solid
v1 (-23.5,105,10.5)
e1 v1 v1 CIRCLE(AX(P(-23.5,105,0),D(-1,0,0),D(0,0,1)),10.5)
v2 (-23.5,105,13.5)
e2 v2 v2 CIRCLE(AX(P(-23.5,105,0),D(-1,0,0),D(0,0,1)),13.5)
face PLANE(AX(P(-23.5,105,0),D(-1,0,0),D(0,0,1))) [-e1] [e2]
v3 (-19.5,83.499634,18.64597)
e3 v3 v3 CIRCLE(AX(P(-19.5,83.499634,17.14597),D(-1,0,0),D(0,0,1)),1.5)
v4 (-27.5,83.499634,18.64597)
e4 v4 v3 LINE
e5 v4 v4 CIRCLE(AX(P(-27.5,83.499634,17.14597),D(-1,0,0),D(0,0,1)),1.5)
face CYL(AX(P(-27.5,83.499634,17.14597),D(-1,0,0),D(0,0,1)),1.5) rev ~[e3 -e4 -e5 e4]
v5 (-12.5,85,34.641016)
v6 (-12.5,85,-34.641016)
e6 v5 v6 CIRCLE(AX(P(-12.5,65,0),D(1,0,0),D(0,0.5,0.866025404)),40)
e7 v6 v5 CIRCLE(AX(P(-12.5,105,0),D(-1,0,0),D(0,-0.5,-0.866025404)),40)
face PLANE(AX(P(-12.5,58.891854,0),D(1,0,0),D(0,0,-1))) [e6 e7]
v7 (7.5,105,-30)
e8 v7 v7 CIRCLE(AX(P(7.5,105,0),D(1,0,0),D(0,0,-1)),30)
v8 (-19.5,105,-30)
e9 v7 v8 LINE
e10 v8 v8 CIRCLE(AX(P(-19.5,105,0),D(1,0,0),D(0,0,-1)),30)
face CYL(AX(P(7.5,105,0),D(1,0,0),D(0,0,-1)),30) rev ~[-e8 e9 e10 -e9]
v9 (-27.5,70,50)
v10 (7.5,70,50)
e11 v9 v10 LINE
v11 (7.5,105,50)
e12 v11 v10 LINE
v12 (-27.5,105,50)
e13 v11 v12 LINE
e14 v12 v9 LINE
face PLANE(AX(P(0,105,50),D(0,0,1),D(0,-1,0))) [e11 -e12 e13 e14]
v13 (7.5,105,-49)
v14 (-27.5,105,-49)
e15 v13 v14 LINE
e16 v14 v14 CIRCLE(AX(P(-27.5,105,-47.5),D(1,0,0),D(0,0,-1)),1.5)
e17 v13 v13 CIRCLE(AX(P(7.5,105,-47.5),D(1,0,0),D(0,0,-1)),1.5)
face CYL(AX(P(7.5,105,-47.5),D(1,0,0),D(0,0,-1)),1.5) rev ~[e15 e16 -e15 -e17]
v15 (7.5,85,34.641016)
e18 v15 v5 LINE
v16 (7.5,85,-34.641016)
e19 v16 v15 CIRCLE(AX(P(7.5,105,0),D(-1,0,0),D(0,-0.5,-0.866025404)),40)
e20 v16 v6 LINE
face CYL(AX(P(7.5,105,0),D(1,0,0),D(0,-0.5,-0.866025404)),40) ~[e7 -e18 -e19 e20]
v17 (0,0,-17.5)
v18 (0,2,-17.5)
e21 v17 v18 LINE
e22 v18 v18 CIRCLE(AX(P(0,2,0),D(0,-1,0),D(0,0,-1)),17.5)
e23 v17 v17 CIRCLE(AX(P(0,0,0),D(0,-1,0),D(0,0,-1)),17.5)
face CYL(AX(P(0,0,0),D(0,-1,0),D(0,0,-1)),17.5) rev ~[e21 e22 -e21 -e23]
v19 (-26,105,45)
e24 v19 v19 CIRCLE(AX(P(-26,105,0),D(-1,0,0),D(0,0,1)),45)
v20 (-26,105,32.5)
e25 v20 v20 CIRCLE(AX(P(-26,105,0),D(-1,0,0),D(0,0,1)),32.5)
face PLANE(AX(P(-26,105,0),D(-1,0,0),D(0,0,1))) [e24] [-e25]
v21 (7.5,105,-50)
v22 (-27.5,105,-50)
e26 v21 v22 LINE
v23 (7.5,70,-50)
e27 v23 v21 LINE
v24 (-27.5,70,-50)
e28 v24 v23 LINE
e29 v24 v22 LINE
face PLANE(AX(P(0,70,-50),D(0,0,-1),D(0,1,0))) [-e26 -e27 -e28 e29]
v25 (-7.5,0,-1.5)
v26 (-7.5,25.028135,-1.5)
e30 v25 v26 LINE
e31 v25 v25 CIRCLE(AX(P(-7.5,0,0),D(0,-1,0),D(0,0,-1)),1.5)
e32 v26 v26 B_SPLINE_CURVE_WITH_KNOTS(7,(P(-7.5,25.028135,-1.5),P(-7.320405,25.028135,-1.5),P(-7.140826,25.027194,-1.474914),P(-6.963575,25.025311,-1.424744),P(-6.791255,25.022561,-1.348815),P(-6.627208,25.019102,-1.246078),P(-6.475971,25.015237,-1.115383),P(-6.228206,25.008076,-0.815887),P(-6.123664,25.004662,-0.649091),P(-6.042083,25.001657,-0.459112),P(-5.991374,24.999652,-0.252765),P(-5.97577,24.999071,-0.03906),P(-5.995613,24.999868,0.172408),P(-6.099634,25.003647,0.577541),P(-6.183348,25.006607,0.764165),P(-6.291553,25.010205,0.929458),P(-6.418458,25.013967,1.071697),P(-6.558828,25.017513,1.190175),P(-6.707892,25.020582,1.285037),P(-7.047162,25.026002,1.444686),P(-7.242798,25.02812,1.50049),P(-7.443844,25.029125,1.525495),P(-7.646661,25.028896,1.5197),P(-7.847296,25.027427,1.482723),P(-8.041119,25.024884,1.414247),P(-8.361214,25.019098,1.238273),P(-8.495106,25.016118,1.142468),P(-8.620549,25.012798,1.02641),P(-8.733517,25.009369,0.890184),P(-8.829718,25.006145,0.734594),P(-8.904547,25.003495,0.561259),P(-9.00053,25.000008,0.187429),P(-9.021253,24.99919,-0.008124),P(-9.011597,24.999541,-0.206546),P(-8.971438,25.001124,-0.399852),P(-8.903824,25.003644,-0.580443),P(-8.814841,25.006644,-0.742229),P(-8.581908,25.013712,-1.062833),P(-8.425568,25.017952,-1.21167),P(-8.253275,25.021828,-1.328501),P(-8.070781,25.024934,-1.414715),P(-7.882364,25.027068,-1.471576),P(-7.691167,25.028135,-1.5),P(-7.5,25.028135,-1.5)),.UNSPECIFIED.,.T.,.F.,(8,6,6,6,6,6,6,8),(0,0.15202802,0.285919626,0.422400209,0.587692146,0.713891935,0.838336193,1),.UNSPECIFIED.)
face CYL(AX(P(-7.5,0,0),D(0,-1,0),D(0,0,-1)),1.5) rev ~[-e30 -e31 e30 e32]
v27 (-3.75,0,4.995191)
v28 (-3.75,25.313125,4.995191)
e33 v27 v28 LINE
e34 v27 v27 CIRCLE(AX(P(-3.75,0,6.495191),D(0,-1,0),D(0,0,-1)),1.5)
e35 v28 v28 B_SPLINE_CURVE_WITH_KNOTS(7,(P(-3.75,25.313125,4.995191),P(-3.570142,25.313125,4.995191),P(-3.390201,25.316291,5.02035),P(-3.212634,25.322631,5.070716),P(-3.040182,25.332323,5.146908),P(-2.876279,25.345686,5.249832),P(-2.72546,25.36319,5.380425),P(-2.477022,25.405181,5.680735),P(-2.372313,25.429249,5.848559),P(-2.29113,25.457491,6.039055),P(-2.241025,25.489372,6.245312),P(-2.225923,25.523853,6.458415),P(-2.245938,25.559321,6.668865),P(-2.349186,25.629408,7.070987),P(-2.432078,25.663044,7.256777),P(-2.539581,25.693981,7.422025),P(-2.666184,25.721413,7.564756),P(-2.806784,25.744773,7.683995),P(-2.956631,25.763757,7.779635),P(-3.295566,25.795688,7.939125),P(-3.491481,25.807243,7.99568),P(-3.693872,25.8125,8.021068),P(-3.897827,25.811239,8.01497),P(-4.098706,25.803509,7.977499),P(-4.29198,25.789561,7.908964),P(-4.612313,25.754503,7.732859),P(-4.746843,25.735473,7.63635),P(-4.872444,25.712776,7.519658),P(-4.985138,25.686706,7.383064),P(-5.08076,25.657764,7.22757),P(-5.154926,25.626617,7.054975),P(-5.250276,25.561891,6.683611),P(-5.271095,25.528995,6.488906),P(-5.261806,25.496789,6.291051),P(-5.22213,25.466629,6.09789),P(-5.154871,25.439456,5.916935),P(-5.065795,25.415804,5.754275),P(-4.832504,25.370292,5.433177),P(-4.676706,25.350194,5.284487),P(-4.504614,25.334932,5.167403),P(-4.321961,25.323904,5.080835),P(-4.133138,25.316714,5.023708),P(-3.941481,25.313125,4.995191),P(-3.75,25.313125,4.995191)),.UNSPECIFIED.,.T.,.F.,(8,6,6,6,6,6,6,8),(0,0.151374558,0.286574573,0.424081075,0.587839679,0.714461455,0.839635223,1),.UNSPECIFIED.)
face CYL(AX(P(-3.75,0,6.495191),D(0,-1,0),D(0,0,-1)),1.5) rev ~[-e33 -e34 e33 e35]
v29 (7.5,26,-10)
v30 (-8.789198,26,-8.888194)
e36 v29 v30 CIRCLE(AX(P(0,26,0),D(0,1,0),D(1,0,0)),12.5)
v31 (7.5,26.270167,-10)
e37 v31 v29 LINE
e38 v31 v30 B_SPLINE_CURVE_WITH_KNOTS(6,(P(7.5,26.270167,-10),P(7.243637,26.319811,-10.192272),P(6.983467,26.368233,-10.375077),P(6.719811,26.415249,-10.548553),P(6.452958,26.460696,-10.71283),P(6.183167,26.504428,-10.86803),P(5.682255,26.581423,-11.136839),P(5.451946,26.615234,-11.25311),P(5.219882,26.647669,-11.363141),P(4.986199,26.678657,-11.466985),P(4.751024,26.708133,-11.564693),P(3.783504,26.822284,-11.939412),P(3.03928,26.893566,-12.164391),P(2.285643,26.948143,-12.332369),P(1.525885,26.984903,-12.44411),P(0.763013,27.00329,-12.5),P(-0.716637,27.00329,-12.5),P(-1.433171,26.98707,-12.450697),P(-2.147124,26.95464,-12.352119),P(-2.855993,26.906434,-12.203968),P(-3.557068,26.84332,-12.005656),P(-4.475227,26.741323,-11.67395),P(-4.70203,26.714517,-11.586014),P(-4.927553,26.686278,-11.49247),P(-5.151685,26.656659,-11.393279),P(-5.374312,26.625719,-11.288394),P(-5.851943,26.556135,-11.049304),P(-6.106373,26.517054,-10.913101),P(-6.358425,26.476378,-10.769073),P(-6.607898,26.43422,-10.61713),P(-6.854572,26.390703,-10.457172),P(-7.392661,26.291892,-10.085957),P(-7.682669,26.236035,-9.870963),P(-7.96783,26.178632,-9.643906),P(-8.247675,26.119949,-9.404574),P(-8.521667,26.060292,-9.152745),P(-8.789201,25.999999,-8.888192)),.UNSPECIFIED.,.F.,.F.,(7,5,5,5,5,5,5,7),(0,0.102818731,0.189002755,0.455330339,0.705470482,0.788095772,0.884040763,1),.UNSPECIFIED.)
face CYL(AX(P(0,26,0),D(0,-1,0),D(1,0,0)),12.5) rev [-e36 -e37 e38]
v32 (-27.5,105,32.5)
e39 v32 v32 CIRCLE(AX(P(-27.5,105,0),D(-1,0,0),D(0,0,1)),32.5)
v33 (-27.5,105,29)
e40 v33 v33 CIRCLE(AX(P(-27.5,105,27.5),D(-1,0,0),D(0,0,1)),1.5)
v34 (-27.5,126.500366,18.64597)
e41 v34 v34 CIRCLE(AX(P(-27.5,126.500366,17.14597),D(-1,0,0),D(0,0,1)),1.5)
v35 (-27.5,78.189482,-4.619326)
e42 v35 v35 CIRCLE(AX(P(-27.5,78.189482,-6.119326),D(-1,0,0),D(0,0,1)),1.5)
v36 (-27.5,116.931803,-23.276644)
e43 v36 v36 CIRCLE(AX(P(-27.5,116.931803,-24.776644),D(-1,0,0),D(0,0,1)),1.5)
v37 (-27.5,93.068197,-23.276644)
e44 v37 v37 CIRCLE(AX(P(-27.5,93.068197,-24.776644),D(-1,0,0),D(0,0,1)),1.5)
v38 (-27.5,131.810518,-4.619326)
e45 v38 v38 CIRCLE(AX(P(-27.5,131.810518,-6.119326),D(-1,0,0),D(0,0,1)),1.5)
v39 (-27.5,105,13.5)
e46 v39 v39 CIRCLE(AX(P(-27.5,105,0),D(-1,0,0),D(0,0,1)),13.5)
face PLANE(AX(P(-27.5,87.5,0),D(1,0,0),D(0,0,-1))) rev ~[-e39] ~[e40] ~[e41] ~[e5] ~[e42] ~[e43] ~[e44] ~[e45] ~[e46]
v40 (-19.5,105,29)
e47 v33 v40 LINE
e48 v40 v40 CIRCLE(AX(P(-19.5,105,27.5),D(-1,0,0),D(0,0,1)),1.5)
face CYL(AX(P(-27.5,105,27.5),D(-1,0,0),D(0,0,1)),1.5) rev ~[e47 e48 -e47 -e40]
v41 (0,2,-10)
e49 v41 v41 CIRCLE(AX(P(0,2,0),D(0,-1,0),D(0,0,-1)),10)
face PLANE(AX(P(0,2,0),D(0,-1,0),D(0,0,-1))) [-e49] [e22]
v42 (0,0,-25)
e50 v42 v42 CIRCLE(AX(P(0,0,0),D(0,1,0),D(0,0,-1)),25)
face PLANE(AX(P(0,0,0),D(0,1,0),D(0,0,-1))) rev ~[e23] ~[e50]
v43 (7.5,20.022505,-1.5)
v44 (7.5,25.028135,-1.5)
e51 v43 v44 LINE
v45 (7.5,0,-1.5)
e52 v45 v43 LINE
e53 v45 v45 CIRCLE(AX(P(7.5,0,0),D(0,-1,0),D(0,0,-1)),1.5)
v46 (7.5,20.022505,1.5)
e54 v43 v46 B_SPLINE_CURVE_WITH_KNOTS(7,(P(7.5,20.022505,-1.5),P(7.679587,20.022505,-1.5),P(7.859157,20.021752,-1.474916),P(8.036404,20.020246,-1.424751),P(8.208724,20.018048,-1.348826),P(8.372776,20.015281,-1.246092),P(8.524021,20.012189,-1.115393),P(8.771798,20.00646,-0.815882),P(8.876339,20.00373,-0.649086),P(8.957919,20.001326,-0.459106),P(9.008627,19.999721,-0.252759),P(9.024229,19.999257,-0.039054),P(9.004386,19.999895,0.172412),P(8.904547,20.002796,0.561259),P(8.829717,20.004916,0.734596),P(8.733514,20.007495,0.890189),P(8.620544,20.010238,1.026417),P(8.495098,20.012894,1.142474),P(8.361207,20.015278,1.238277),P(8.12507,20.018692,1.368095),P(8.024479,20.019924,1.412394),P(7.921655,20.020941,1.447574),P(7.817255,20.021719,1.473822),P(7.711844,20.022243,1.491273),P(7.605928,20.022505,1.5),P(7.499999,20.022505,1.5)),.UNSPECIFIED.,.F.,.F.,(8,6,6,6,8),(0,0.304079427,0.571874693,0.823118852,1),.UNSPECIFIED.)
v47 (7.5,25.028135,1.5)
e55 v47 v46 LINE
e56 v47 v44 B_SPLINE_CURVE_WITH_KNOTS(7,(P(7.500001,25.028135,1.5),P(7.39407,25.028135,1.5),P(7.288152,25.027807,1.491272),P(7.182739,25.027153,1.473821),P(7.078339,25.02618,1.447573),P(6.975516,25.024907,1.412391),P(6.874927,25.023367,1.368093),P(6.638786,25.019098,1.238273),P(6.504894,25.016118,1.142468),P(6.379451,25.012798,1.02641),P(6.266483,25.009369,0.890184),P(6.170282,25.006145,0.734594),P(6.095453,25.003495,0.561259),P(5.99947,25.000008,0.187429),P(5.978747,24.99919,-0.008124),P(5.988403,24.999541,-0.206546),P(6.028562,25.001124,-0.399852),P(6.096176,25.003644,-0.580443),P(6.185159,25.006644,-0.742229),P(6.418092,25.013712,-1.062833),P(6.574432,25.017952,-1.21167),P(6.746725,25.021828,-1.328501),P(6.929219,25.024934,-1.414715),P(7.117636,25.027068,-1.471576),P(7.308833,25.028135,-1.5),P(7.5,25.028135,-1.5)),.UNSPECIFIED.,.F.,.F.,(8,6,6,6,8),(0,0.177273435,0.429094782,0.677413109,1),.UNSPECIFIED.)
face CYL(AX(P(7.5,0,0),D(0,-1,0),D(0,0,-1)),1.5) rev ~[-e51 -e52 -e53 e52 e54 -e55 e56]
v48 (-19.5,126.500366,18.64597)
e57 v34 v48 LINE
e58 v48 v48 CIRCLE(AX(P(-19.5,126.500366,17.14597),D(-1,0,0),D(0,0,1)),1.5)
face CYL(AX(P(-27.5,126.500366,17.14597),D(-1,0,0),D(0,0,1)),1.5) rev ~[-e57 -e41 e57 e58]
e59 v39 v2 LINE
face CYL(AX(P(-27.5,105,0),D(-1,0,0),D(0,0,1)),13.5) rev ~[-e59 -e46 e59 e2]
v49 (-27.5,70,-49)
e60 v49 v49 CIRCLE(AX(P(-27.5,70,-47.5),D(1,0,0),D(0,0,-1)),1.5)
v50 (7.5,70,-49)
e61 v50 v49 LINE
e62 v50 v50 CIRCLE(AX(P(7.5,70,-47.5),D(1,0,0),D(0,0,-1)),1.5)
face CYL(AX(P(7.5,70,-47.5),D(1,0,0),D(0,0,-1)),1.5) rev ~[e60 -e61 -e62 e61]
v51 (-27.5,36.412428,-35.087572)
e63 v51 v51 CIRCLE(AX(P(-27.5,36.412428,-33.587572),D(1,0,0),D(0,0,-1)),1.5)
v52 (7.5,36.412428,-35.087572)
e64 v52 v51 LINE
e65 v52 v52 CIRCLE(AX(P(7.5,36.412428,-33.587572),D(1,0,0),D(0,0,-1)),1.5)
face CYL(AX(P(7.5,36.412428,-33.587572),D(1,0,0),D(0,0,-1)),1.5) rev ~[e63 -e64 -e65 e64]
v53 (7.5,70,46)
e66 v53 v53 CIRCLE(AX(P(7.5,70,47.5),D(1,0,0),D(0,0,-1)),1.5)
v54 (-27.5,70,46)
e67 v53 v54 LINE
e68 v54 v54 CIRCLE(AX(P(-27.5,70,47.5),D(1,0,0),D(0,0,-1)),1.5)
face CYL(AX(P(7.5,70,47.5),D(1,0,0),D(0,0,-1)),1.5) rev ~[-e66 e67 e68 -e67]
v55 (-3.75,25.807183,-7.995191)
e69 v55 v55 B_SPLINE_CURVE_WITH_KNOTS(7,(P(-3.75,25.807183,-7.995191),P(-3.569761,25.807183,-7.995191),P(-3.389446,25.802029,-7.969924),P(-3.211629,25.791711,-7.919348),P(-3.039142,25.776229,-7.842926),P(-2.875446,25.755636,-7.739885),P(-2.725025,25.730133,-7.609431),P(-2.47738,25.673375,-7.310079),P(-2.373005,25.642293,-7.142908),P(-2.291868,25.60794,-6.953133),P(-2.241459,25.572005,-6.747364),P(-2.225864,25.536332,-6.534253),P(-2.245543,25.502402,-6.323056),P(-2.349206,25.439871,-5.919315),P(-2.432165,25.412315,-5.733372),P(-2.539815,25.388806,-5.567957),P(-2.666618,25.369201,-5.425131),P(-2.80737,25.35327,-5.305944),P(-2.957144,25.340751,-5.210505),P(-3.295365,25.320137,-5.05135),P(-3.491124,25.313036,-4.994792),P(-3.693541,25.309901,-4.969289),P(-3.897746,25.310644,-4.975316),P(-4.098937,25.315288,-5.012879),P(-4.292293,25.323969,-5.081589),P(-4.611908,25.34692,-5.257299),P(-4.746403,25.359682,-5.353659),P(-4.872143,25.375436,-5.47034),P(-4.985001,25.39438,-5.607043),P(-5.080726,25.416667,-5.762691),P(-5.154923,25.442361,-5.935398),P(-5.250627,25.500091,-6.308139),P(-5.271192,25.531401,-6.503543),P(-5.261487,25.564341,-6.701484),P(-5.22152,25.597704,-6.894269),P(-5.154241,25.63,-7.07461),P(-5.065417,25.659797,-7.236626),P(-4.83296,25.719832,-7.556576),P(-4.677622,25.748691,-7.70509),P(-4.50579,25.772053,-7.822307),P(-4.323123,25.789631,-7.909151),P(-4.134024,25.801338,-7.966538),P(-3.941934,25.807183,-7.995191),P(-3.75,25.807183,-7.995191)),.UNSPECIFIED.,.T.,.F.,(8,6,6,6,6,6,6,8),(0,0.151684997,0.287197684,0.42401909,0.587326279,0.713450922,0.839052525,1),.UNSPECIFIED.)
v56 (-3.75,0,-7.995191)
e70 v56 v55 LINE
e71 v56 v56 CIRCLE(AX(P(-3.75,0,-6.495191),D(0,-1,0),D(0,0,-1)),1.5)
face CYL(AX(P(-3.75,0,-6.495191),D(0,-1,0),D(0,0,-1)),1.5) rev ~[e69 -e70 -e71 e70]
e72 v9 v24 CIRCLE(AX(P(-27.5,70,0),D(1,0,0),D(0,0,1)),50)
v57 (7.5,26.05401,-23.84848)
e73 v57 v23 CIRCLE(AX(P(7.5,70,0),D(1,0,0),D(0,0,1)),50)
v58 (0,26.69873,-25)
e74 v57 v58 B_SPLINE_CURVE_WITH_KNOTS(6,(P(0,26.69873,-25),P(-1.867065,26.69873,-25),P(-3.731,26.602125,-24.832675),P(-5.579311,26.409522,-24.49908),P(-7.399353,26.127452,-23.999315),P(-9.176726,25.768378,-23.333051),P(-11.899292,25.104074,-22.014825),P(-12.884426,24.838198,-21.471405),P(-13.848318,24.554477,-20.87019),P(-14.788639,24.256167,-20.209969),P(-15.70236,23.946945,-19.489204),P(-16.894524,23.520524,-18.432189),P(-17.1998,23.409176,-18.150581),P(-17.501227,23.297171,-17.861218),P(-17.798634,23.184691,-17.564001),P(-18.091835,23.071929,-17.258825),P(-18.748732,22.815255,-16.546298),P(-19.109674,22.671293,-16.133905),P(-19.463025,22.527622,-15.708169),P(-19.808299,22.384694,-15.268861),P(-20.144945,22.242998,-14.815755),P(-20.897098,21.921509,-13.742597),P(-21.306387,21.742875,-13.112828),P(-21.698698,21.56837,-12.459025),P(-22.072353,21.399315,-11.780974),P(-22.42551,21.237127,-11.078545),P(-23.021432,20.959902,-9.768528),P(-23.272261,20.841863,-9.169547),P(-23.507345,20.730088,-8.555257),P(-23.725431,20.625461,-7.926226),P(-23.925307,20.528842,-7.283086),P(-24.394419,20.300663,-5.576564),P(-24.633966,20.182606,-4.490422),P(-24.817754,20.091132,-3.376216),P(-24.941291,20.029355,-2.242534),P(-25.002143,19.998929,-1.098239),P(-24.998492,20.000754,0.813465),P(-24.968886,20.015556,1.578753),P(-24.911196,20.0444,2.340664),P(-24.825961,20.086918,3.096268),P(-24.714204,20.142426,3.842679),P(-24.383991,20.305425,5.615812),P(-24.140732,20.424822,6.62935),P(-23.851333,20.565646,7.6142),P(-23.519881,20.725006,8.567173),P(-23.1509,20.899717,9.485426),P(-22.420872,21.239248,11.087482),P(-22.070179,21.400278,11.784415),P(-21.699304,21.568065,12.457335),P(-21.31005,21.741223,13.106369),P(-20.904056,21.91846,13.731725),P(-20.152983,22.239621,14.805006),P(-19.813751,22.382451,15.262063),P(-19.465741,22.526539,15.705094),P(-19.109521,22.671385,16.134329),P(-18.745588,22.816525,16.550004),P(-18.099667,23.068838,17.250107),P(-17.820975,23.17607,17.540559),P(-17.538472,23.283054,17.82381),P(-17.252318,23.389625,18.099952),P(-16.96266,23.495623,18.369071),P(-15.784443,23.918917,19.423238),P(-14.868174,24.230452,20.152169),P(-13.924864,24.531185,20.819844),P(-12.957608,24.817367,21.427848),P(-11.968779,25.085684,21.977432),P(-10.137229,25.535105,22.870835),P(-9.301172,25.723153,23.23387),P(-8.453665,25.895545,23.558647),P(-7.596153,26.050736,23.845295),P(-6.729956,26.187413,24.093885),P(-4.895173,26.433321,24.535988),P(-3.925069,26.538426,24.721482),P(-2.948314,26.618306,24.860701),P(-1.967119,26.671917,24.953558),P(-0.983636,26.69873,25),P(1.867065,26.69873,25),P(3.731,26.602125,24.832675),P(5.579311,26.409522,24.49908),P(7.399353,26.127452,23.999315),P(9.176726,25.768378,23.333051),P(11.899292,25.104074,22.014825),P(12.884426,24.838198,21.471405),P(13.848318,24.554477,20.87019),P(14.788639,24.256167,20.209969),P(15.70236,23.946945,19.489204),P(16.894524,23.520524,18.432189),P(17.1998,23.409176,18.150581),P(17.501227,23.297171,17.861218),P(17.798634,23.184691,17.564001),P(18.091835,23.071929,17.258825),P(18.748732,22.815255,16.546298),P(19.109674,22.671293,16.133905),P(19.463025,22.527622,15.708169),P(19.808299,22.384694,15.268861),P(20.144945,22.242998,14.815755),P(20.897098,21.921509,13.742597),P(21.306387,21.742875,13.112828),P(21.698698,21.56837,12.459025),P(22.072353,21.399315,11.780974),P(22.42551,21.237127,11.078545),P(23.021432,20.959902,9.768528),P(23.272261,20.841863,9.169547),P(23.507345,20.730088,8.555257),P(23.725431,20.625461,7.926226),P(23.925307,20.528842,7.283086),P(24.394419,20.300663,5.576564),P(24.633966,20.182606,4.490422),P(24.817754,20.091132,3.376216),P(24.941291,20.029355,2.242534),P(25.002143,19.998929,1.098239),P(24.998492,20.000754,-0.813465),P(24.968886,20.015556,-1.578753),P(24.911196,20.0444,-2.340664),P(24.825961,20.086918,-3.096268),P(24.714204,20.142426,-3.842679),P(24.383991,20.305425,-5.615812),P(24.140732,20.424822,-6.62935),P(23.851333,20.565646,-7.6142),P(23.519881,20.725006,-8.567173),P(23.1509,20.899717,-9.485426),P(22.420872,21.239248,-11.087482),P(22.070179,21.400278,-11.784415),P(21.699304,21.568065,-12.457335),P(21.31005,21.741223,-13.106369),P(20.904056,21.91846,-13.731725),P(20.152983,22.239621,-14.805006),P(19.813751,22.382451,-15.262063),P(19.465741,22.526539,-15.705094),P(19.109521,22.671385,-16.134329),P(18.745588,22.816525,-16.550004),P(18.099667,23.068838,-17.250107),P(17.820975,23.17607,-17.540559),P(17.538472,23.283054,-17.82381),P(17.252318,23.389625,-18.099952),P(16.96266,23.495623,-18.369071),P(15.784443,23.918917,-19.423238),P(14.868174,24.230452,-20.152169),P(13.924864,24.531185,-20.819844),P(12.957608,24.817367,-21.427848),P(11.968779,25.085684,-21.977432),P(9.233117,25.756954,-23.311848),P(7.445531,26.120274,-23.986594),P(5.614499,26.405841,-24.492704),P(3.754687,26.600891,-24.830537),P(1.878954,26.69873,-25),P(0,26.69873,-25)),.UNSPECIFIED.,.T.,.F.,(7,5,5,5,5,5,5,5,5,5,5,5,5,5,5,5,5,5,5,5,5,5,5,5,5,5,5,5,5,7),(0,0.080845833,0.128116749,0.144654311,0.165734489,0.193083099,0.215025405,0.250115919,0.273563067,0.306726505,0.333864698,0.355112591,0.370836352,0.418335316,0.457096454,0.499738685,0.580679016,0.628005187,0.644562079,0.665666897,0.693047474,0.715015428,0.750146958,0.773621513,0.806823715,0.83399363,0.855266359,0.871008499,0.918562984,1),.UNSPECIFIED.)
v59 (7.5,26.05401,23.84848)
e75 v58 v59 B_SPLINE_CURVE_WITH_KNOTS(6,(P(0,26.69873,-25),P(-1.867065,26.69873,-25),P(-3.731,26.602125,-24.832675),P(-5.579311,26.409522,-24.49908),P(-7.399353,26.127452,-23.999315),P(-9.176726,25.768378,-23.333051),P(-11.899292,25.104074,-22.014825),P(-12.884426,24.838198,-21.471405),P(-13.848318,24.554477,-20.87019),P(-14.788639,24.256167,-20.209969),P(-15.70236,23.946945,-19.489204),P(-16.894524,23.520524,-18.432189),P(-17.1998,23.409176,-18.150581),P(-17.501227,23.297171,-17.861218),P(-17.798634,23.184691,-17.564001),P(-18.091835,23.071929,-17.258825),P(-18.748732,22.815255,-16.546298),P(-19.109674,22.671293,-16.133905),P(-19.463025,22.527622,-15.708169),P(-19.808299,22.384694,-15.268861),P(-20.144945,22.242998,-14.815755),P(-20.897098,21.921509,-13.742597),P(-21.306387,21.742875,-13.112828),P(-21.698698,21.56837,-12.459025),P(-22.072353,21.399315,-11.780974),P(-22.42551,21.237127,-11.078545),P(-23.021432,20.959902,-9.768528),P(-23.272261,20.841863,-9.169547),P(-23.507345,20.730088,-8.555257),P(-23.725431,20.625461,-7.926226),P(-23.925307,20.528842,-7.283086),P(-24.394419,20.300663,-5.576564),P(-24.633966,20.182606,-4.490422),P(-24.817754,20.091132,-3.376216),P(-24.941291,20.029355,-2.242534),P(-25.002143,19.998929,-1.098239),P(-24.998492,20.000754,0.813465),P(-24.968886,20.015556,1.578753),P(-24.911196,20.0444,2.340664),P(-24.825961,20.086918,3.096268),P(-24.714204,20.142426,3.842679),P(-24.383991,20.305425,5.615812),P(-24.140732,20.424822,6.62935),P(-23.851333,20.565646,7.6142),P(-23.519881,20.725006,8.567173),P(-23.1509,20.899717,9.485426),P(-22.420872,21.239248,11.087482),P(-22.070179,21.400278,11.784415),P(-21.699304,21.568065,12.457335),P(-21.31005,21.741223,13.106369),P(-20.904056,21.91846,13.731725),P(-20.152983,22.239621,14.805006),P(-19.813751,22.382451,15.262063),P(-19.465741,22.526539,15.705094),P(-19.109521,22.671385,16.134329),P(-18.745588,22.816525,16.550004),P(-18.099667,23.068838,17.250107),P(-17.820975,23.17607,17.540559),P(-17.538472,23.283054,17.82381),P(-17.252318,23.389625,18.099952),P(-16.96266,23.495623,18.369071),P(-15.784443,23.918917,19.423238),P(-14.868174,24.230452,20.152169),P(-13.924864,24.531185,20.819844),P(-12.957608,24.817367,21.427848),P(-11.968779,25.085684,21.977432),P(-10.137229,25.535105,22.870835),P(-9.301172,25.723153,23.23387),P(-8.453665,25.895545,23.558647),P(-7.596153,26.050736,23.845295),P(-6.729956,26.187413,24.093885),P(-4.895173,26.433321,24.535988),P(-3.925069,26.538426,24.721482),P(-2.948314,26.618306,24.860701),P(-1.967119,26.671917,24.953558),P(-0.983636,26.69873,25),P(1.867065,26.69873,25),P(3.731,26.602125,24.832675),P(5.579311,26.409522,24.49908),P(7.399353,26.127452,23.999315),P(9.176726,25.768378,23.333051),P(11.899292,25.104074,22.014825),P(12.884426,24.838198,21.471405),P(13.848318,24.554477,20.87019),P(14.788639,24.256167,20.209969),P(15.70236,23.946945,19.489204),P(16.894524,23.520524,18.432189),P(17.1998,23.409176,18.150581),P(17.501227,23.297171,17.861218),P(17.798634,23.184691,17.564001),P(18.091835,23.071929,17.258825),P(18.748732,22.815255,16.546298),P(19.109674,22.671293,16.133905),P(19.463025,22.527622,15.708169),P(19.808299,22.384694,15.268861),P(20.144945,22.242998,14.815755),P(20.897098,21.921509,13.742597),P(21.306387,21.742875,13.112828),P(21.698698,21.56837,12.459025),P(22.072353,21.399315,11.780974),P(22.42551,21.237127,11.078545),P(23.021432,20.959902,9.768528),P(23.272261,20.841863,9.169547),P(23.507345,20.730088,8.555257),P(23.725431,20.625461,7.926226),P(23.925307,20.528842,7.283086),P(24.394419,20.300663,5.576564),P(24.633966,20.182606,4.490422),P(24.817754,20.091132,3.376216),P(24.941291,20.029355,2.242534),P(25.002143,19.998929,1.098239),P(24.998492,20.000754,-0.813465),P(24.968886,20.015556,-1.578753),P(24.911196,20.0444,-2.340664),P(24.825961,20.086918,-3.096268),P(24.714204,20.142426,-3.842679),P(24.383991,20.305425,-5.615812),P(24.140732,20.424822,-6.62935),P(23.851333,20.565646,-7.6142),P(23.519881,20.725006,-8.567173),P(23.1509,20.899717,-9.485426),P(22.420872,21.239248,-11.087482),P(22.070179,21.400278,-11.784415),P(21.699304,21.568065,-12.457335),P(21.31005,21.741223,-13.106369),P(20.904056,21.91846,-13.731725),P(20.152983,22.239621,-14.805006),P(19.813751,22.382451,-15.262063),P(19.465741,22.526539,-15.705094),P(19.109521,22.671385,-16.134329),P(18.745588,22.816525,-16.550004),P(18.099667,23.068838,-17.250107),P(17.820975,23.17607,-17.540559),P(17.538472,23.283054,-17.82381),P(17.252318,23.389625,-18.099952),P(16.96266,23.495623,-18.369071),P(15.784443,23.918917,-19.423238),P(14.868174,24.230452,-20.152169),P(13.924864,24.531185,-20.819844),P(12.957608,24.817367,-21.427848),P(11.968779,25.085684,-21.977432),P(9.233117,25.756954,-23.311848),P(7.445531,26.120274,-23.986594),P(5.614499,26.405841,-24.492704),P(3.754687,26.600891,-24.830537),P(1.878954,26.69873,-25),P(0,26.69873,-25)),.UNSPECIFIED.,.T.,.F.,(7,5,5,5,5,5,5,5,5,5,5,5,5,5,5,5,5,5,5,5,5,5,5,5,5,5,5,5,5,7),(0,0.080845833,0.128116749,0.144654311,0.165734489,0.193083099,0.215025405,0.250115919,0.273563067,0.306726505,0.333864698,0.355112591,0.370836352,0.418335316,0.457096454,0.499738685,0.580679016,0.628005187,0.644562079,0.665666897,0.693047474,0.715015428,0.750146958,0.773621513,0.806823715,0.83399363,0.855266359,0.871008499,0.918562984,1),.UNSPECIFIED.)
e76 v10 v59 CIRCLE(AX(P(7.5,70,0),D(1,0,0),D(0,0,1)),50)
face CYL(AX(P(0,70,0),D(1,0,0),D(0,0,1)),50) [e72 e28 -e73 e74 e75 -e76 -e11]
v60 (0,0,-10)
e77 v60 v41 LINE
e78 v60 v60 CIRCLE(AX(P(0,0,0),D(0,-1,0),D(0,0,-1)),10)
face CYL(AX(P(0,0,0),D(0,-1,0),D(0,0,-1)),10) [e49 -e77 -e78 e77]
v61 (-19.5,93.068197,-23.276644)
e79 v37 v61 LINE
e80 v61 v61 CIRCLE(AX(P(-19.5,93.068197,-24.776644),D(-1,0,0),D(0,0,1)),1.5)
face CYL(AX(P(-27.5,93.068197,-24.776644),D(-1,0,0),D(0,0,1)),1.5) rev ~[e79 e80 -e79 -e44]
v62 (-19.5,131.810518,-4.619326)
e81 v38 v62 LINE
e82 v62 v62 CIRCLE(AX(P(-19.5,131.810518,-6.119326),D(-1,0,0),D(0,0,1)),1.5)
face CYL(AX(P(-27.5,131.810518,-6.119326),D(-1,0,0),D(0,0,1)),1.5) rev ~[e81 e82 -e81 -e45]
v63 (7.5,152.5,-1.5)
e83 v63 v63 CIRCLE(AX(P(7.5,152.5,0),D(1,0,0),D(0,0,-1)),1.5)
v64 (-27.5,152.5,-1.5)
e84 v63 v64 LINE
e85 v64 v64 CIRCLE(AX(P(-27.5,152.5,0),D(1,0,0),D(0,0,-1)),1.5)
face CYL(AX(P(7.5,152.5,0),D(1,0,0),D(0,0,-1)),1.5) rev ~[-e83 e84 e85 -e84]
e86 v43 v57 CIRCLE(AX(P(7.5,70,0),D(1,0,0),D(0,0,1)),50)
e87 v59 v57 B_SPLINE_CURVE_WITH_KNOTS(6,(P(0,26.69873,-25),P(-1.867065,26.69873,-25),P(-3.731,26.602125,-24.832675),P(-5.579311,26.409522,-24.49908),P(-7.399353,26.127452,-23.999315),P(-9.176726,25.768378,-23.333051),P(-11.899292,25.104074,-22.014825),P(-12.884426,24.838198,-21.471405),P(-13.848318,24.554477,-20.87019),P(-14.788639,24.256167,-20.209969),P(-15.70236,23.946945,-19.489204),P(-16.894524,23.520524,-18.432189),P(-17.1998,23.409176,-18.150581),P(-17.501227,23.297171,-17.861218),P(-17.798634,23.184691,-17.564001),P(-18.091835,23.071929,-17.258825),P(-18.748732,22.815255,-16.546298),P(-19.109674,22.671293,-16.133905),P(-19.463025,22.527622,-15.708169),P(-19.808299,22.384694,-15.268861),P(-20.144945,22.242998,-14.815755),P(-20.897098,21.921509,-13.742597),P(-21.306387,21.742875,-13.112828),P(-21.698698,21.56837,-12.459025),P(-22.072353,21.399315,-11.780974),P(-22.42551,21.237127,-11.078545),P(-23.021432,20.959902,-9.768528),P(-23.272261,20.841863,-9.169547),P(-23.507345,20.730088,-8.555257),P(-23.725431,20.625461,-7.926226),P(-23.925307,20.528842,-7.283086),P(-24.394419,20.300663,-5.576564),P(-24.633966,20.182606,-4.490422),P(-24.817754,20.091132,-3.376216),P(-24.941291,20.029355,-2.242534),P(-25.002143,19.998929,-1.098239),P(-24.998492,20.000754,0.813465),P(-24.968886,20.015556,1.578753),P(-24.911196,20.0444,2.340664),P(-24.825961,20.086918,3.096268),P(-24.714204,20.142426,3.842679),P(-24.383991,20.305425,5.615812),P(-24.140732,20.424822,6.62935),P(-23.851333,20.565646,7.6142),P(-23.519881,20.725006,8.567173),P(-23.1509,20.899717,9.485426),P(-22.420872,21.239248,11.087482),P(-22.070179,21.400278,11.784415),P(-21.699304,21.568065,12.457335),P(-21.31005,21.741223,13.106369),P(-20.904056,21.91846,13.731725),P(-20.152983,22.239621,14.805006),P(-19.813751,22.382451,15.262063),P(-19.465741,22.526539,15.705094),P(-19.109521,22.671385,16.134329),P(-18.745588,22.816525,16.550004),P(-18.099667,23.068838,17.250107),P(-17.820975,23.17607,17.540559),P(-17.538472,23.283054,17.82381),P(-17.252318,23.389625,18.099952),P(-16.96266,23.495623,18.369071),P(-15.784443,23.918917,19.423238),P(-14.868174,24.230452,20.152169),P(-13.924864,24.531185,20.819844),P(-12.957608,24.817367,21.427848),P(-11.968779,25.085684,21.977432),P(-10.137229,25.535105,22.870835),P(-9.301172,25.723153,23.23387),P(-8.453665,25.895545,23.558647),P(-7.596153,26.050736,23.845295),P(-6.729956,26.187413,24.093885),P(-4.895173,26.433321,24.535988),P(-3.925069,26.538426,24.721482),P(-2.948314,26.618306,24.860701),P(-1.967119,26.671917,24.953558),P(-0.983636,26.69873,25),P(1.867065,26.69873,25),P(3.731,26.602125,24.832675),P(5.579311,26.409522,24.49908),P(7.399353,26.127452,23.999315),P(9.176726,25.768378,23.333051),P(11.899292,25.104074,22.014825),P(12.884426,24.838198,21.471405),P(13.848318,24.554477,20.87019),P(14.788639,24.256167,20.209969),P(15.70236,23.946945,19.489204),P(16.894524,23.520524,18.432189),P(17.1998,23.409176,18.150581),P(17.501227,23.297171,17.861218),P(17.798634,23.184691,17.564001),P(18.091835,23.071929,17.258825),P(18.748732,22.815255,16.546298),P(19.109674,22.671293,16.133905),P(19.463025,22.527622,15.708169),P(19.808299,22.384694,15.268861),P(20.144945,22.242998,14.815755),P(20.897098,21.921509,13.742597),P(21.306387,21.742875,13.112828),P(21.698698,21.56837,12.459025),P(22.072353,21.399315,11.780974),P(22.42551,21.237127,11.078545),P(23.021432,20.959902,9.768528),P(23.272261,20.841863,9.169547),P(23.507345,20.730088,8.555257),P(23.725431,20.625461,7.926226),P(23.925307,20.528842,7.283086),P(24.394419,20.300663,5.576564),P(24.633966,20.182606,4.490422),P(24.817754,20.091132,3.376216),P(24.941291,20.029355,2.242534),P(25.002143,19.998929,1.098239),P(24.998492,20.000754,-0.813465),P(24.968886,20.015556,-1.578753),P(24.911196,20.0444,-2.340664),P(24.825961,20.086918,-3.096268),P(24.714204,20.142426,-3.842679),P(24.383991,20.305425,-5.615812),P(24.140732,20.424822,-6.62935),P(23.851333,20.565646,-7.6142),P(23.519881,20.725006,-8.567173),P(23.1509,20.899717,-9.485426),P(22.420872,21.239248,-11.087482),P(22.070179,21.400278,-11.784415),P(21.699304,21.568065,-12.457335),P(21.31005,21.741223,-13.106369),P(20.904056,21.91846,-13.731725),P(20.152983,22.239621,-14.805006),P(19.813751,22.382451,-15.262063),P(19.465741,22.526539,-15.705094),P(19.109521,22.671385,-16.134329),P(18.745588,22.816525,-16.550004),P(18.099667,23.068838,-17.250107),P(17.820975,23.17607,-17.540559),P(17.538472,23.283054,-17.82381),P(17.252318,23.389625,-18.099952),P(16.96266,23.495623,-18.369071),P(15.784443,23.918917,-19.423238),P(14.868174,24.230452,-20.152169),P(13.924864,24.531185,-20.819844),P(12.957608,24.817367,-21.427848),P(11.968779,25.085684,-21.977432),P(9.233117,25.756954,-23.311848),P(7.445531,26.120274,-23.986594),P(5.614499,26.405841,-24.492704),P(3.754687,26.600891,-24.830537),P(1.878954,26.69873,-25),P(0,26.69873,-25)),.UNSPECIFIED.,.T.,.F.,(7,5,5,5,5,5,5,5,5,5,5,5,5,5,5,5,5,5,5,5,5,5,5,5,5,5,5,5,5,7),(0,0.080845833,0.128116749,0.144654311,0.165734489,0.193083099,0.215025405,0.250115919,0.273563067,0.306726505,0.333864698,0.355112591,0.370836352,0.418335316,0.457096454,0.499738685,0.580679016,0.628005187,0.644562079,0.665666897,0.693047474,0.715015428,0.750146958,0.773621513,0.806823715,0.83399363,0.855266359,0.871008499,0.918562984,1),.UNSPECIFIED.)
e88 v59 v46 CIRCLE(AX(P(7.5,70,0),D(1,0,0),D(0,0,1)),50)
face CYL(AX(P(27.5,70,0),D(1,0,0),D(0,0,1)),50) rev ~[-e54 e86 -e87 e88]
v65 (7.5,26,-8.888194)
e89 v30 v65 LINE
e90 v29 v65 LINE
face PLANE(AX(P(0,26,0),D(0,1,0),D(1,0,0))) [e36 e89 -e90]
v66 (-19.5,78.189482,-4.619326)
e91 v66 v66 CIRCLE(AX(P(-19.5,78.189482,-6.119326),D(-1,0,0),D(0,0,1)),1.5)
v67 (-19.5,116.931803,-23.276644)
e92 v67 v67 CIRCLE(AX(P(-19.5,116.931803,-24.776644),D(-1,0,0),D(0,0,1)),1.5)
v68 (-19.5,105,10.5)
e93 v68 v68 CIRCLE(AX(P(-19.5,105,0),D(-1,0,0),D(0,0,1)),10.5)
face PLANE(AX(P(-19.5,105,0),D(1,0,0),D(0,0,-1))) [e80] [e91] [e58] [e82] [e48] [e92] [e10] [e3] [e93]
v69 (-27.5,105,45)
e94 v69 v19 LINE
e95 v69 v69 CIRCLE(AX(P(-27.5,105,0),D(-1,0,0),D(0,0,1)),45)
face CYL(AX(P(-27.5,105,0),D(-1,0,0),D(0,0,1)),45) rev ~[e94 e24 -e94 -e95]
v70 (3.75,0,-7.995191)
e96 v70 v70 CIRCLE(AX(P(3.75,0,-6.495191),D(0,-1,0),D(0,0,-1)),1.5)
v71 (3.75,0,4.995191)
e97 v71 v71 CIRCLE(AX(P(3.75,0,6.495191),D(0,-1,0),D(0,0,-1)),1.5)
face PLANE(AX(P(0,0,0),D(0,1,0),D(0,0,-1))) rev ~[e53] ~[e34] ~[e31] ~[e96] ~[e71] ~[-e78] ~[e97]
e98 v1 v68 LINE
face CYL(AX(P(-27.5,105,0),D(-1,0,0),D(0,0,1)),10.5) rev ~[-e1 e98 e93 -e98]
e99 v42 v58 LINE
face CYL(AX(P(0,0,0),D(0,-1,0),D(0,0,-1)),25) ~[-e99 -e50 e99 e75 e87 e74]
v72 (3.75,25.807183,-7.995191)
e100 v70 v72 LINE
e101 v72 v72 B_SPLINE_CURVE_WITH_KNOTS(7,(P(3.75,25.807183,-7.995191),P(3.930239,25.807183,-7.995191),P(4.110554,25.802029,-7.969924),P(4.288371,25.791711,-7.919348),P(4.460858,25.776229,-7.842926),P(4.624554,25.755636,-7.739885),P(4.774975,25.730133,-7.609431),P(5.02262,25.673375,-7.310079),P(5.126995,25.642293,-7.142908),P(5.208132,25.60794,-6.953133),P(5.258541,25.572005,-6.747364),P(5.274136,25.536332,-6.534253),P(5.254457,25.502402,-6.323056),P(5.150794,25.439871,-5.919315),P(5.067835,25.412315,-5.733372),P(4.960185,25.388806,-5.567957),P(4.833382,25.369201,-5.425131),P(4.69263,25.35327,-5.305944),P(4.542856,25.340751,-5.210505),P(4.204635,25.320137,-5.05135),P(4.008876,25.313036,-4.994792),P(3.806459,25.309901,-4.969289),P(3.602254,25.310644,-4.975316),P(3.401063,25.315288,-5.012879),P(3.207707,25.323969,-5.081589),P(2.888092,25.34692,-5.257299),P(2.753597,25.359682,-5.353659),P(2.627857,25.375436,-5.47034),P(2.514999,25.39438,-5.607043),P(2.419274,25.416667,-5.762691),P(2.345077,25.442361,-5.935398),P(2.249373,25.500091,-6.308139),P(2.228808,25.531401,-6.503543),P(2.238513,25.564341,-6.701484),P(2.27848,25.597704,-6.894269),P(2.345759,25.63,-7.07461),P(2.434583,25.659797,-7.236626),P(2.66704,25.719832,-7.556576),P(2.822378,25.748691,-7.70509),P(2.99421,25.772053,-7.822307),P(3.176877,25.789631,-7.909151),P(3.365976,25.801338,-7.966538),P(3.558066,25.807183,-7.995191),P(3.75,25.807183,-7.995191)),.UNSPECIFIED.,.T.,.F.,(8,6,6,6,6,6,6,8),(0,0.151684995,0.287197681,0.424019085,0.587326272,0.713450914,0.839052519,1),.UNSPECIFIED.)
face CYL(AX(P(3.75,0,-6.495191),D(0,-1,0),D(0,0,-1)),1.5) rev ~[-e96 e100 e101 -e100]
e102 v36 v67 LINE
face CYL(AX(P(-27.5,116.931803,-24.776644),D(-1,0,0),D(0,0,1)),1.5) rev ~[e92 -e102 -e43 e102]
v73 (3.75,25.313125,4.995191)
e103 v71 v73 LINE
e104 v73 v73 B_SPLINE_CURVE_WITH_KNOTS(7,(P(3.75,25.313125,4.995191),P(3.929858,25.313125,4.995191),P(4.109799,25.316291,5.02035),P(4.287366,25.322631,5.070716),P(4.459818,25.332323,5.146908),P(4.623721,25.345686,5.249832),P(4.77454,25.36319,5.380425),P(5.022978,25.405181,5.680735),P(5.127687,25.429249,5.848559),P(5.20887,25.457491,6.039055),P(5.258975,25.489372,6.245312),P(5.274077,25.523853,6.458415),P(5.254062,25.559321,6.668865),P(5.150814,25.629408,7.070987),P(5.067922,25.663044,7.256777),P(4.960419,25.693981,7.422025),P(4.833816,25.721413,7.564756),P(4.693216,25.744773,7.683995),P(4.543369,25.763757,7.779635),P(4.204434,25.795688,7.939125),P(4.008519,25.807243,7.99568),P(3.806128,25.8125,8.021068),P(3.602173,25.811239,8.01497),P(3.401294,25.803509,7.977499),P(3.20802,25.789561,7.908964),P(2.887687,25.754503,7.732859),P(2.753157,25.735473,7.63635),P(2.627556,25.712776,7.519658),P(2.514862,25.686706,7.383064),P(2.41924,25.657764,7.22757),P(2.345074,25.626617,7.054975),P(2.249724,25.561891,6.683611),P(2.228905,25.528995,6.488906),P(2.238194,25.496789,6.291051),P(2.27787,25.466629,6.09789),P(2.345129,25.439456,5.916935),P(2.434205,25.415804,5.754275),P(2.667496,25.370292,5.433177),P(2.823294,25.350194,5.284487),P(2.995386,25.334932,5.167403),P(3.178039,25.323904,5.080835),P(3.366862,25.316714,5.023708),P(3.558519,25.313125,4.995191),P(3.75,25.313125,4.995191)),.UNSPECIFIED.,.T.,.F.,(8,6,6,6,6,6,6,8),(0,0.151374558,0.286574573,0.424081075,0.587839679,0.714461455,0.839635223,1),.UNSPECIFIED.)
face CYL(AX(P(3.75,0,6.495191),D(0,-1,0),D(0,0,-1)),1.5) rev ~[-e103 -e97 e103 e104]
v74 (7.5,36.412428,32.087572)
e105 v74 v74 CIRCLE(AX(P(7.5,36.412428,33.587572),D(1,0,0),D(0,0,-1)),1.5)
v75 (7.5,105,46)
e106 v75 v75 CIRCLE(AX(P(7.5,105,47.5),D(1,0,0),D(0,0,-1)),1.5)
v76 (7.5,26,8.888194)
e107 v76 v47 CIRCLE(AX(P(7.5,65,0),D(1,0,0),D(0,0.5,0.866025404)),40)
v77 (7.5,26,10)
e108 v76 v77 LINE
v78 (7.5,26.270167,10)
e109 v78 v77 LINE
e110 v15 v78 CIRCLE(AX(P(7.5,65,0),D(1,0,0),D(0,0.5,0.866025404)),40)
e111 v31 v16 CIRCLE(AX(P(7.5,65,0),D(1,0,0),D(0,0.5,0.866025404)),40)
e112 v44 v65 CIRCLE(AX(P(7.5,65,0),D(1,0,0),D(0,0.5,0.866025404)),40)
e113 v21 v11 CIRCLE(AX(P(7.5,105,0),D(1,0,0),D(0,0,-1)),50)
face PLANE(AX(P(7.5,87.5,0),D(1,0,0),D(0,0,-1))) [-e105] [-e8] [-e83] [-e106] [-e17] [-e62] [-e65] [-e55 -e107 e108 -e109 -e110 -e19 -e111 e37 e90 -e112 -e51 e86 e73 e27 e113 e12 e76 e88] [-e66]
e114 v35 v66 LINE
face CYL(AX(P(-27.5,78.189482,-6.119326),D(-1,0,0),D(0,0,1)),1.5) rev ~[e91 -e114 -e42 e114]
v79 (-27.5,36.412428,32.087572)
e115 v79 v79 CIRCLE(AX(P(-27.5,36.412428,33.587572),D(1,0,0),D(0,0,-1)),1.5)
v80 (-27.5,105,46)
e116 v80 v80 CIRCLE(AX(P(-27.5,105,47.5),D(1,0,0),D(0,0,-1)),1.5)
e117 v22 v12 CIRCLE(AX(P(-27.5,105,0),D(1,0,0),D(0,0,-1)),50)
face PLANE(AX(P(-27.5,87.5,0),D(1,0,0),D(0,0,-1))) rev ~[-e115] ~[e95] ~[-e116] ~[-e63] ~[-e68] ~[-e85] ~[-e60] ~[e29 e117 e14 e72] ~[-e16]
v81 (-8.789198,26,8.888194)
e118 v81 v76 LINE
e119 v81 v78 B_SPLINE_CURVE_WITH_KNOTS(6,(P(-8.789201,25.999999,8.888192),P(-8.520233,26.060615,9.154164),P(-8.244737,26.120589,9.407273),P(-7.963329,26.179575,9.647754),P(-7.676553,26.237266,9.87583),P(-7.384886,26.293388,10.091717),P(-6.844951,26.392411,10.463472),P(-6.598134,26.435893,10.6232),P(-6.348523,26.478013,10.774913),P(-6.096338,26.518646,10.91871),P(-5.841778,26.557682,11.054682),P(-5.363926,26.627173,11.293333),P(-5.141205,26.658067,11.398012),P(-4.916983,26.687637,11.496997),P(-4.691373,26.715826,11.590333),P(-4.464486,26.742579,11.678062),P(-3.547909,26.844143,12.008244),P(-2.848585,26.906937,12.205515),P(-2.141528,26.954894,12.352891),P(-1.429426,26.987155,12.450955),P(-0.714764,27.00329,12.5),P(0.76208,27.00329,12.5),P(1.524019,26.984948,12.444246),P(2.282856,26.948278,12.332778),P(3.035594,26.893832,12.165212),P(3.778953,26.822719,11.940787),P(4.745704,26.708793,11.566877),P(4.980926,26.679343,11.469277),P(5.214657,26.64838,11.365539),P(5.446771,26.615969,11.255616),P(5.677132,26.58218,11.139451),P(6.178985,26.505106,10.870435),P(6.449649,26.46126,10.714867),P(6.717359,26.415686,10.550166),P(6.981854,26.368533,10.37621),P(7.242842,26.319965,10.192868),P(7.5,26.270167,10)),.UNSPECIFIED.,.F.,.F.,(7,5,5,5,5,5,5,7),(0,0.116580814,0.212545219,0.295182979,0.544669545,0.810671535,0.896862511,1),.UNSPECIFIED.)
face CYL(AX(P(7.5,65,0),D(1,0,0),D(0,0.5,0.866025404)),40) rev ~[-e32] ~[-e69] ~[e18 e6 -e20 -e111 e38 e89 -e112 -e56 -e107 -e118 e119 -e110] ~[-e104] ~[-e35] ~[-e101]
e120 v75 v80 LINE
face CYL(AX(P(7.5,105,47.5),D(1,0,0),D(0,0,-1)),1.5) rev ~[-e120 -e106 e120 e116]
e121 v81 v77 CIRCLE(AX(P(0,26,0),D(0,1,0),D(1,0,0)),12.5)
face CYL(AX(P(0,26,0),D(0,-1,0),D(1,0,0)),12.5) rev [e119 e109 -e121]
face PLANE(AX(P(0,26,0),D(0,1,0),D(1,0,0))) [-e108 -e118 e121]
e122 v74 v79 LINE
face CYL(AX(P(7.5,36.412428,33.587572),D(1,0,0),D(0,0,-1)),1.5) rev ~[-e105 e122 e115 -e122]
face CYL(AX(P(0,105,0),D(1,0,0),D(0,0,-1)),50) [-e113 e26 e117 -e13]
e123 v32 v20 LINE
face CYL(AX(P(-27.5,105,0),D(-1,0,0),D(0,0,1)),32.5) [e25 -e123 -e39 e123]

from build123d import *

# Parameters (mm, degrees)
SALIENTE_EXTRUIR3_DEPTH      = 27.5
SALIENTE_EXTRUIR4_REACH      = 167.17
SALIENTE_EXTRUIR4_END_RADIUS = 50
CROQUIS2_R                   = 25
CROQUIS5_R                   = 45
CROQUIS5_R_2                 = 32.5
CORTAR_EXTRUIR2_DEPTH        = 1.5
CROQUIS6_R                   = 10.5
CORTAR_EXTRUIR3_DEPTH        = 172.901134438
CORTAR_EXTRUIR4_DEPTH        = 20
CROQUIS8_R                   = 30
CORTAR_EXTRUIR5_DEPTH        = 27
CROQUIS9_R                   = 1.5
CORTAR_EXTRUIR7_DEPTH        = 30
CROQUIS10_R                  = 12.5
CORTAR_EXTRUIR8_DEPTH        = 5
CROQUIS11_R                  = 1.5
CORTAR_EXTRUIR9_DEPTH        = 172.117649646
CORTAR_EXTRUIR10_DEPTH       = 20
CROQUIS13_R                  = 1.5
CORTAR_EXTRUIR11_DEPTH       = 167.583312541
CROQUIS14_R                  = 17.5
CROQUIS14_R_2                = 10
CORTAR_EXTRUIR12_DEPTH       = 2
CROQUIS15_R                  = 13.5
CROQUIS15_R_2                = 10
CORTAR_EXTRUIR13_DEPTH       = 4


with BuildPart() as part:
    # Croquis3 → Saliente-Extruir3 (new, symmetric)
    with BuildSketch(Plane(origin=(0, 0, 0), x_dir=(0, 0, -1), z_dir=(1, 0, 0))):
        with BuildLine():
            Line((-50, 105), (-50, 70))
            ThreePointArc((-50, 70), (0, 20), (50, 70))
            Line((50, 70), (50, 105))
            ThreePointArc((50, 105), (0, 155), (-50, 105))
        make_face()
    extrude(amount=SALIENTE_EXTRUIR3_DEPTH, both=True)

    # Saliente-Extruir4: up to this cylinder (the profile starts outside it)
    saliente_extruir4_end = Plane(origin=(0, 70, 0), z_dir=(-1, 0, 0)) * Cylinder(SALIENTE_EXTRUIR4_END_RADIUS, 435.34, mode=Mode.PRIVATE)
    # Croquis2 → Saliente-Extruir4 (add, up to the surface)
    with BuildSketch(Plane(origin=(0, 0, 0), x_dir=(1, 0, 0), z_dir=(0, 1, 0)), mode=Mode.PRIVATE) as saliente_extruir4_sk1:
        with Locations(Location((0, 0, 0), (0, 0, 90))):
            Circle(CROQUIS2_R)
    saliente_extruir4_tool1 = extrude(saliente_extruir4_sk1.sketch, amount=SALIENTE_EXTRUIR4_REACH, mode=Mode.PRIVATE) - saliente_extruir4_end
    add(saliente_extruir4_tool1.solids().sort_by_distance((0, 0, 0))[0])

    # Croquis5 → Cortar-Extruir2 (cut)
    with BuildSketch(Plane.ZY.offset(27.5)):
        with Locations((0, 105)):
            Circle(CROQUIS5_R)
        with Locations((0, 105)):
            Circle(CROQUIS5_R_2, mode=Mode.SUBTRACT)
    extrude(amount=-CORTAR_EXTRUIR2_DEPTH, mode=Mode.SUBTRACT)

    # Croquis6 → Cortar-Extruir3 (cut, through all)
    with BuildSketch(Plane.ZY.offset(27.5)):
        with Locations((0, 105)):
            Circle(CROQUIS6_R)
    extrude(amount=-CORTAR_EXTRUIR3_DEPTH, mode=Mode.SUBTRACT)

    # Croquis7 → Cortar-Extruir4 (cut)
    with BuildSketch(Plane(origin=(27.5, 0, 0), x_dir=(0, 0, -1), z_dir=(1, 0, 0))):
        with BuildLine():
            Line((-50, 105), (-50, 70))
            ThreePointArc((-50, 70), (0, 20), (50, 70))
            Line((50, 70), (50, 105))
            ThreePointArc((50, 105), (0, 155), (-50, 105))
        make_face()
    extrude(amount=-CORTAR_EXTRUIR4_DEPTH, mode=Mode.SUBTRACT)

    # Croquis8 → Cortar-Extruir5 (cut)
    with BuildSketch(Plane(origin=(7.5, 0, 0), x_dir=(0, 0, -1), z_dir=(1, 0, 0))):
        with Locations((0, 105)):
            Circle(CROQUIS8_R)
    extrude(amount=-CORTAR_EXTRUIR5_DEPTH, mode=Mode.SUBTRACT)

    # Croquis9 → Cortar-Extruir7 (cut)
    with BuildSketch(Plane.XZ):
        with Locations(Location((7.5, 0, 0), (0, 0, 270))):
            Circle(CROQUIS9_R)
        with Locations(Location((3.75, -6.495190528, 0), (0, 0, 270))):
            Circle(CROQUIS9_R)
        with Locations(Location((-3.75, -6.495190528, 0), (0, 0, 270))):
            Circle(CROQUIS9_R)
        with Locations(Location((-7.5, 0, 0), (0, 0, 270))):
            Circle(CROQUIS9_R)
        with Locations(Location((-3.75, 6.495190528, 0), (0, 0, 270))):
            Circle(CROQUIS9_R)
        with Locations(Location((3.75, 6.495190528, 0), (0, 0, 270))):
            Circle(CROQUIS9_R)
    extrude(amount=-CORTAR_EXTRUIR7_DEPTH, mode=Mode.SUBTRACT)

    # Croquis10 → Cortar-Extruir8 (cut)
    with BuildSketch(Plane(origin=(0, 26, 0), x_dir=(1, 0, 0), z_dir=(0, 1, 0))):
        Circle(CROQUIS10_R)
    extrude(amount=CORTAR_EXTRUIR8_DEPTH, mode=Mode.SUBTRACT)

    # Croquis11 → Cortar-Extruir9 (cut, through all)
    with BuildSketch(Plane.ZY.offset(27.5)):
        with Locations((27.5, 105)):
            Circle(CROQUIS11_R)
        with Locations((17.145969551, 83.499634232)):
            Circle(CROQUIS11_R)
        with Locations((-6.119325684, 78.189482415)):
            Circle(CROQUIS11_R)
        with Locations((-24.776643867, 93.068197174)):
            Circle(CROQUIS11_R)
        with Locations((-24.776643867, 116.931802826)):
            Circle(CROQUIS11_R)
        with Locations((-6.119325684, 131.810517585)):
            Circle(CROQUIS11_R)
        with Locations((17.145969551, 126.500365768)):
            Circle(CROQUIS11_R)
    extrude(amount=-CORTAR_EXTRUIR9_DEPTH, mode=Mode.SUBTRACT)

    # Croquis12 → Cortar-Extruir10 (cut)
    with BuildSketch(Plane(origin=(7.5, 0, 0), x_dir=(0, 0, -1), z_dir=(1, 0, 0))):
        with BuildLine():
            ThreePointArc((-34.641016151, 85), (0, 25), (34.641016151, 85))
            ThreePointArc((34.641016151, 85), (0, 65), (-34.641016151, 85))
        make_face()
    extrude(amount=-CORTAR_EXTRUIR10_DEPTH, mode=Mode.SUBTRACT)

    # Croquis13 → Cortar-Extruir11 (cut, through all)
    with BuildSketch(Plane(origin=(7.5, 0, 0), x_dir=(0, 0, -1), z_dir=(1, 0, 0))):
        with Locations((0, 152.5)):
            Circle(CROQUIS13_R)
        with Locations((47.5, 105)):
            Circle(CROQUIS13_R)
        with Locations((-47.5, 105)):
            Circle(CROQUIS13_R)
        with Locations((-47.5, 70)):
            Circle(CROQUIS13_R)
        with Locations((47.5, 70)):
            Circle(CROQUIS13_R)
        with Locations((33.587572106, 36.412427894)):
            Circle(CROQUIS13_R)
        with Locations((-33.587572106, 36.412427894)):
            Circle(CROQUIS13_R)
    extrude(amount=-CORTAR_EXTRUIR11_DEPTH, mode=Mode.SUBTRACT)

    # Croquis14 → Cortar-Extruir12 (cut)
    with BuildSketch(Plane.XZ):
        with Locations(Location((0, 0, 0), (0, 0, 270))):
            Circle(CROQUIS14_R)
        with Locations(Location((0, 0, 0), (0, 0, 270))):
            Circle(CROQUIS14_R_2, mode=Mode.SUBTRACT)
    extrude(amount=-CORTAR_EXTRUIR12_DEPTH, mode=Mode.SUBTRACT)

    # Croquis15 → Cortar-Extruir13 (cut)
    with BuildSketch(Plane.ZY.offset(27.5)):
        with Locations((0, 105)):
            Circle(CROQUIS15_R)
        with Locations((0, 105)):
            Circle(CROQUIS15_R_2, mode=Mode.SUBTRACT)
    extrude(amount=-CORTAR_EXTRUIR13_DEPTH, mode=Mode.SUBTRACT)


solid = part.part
